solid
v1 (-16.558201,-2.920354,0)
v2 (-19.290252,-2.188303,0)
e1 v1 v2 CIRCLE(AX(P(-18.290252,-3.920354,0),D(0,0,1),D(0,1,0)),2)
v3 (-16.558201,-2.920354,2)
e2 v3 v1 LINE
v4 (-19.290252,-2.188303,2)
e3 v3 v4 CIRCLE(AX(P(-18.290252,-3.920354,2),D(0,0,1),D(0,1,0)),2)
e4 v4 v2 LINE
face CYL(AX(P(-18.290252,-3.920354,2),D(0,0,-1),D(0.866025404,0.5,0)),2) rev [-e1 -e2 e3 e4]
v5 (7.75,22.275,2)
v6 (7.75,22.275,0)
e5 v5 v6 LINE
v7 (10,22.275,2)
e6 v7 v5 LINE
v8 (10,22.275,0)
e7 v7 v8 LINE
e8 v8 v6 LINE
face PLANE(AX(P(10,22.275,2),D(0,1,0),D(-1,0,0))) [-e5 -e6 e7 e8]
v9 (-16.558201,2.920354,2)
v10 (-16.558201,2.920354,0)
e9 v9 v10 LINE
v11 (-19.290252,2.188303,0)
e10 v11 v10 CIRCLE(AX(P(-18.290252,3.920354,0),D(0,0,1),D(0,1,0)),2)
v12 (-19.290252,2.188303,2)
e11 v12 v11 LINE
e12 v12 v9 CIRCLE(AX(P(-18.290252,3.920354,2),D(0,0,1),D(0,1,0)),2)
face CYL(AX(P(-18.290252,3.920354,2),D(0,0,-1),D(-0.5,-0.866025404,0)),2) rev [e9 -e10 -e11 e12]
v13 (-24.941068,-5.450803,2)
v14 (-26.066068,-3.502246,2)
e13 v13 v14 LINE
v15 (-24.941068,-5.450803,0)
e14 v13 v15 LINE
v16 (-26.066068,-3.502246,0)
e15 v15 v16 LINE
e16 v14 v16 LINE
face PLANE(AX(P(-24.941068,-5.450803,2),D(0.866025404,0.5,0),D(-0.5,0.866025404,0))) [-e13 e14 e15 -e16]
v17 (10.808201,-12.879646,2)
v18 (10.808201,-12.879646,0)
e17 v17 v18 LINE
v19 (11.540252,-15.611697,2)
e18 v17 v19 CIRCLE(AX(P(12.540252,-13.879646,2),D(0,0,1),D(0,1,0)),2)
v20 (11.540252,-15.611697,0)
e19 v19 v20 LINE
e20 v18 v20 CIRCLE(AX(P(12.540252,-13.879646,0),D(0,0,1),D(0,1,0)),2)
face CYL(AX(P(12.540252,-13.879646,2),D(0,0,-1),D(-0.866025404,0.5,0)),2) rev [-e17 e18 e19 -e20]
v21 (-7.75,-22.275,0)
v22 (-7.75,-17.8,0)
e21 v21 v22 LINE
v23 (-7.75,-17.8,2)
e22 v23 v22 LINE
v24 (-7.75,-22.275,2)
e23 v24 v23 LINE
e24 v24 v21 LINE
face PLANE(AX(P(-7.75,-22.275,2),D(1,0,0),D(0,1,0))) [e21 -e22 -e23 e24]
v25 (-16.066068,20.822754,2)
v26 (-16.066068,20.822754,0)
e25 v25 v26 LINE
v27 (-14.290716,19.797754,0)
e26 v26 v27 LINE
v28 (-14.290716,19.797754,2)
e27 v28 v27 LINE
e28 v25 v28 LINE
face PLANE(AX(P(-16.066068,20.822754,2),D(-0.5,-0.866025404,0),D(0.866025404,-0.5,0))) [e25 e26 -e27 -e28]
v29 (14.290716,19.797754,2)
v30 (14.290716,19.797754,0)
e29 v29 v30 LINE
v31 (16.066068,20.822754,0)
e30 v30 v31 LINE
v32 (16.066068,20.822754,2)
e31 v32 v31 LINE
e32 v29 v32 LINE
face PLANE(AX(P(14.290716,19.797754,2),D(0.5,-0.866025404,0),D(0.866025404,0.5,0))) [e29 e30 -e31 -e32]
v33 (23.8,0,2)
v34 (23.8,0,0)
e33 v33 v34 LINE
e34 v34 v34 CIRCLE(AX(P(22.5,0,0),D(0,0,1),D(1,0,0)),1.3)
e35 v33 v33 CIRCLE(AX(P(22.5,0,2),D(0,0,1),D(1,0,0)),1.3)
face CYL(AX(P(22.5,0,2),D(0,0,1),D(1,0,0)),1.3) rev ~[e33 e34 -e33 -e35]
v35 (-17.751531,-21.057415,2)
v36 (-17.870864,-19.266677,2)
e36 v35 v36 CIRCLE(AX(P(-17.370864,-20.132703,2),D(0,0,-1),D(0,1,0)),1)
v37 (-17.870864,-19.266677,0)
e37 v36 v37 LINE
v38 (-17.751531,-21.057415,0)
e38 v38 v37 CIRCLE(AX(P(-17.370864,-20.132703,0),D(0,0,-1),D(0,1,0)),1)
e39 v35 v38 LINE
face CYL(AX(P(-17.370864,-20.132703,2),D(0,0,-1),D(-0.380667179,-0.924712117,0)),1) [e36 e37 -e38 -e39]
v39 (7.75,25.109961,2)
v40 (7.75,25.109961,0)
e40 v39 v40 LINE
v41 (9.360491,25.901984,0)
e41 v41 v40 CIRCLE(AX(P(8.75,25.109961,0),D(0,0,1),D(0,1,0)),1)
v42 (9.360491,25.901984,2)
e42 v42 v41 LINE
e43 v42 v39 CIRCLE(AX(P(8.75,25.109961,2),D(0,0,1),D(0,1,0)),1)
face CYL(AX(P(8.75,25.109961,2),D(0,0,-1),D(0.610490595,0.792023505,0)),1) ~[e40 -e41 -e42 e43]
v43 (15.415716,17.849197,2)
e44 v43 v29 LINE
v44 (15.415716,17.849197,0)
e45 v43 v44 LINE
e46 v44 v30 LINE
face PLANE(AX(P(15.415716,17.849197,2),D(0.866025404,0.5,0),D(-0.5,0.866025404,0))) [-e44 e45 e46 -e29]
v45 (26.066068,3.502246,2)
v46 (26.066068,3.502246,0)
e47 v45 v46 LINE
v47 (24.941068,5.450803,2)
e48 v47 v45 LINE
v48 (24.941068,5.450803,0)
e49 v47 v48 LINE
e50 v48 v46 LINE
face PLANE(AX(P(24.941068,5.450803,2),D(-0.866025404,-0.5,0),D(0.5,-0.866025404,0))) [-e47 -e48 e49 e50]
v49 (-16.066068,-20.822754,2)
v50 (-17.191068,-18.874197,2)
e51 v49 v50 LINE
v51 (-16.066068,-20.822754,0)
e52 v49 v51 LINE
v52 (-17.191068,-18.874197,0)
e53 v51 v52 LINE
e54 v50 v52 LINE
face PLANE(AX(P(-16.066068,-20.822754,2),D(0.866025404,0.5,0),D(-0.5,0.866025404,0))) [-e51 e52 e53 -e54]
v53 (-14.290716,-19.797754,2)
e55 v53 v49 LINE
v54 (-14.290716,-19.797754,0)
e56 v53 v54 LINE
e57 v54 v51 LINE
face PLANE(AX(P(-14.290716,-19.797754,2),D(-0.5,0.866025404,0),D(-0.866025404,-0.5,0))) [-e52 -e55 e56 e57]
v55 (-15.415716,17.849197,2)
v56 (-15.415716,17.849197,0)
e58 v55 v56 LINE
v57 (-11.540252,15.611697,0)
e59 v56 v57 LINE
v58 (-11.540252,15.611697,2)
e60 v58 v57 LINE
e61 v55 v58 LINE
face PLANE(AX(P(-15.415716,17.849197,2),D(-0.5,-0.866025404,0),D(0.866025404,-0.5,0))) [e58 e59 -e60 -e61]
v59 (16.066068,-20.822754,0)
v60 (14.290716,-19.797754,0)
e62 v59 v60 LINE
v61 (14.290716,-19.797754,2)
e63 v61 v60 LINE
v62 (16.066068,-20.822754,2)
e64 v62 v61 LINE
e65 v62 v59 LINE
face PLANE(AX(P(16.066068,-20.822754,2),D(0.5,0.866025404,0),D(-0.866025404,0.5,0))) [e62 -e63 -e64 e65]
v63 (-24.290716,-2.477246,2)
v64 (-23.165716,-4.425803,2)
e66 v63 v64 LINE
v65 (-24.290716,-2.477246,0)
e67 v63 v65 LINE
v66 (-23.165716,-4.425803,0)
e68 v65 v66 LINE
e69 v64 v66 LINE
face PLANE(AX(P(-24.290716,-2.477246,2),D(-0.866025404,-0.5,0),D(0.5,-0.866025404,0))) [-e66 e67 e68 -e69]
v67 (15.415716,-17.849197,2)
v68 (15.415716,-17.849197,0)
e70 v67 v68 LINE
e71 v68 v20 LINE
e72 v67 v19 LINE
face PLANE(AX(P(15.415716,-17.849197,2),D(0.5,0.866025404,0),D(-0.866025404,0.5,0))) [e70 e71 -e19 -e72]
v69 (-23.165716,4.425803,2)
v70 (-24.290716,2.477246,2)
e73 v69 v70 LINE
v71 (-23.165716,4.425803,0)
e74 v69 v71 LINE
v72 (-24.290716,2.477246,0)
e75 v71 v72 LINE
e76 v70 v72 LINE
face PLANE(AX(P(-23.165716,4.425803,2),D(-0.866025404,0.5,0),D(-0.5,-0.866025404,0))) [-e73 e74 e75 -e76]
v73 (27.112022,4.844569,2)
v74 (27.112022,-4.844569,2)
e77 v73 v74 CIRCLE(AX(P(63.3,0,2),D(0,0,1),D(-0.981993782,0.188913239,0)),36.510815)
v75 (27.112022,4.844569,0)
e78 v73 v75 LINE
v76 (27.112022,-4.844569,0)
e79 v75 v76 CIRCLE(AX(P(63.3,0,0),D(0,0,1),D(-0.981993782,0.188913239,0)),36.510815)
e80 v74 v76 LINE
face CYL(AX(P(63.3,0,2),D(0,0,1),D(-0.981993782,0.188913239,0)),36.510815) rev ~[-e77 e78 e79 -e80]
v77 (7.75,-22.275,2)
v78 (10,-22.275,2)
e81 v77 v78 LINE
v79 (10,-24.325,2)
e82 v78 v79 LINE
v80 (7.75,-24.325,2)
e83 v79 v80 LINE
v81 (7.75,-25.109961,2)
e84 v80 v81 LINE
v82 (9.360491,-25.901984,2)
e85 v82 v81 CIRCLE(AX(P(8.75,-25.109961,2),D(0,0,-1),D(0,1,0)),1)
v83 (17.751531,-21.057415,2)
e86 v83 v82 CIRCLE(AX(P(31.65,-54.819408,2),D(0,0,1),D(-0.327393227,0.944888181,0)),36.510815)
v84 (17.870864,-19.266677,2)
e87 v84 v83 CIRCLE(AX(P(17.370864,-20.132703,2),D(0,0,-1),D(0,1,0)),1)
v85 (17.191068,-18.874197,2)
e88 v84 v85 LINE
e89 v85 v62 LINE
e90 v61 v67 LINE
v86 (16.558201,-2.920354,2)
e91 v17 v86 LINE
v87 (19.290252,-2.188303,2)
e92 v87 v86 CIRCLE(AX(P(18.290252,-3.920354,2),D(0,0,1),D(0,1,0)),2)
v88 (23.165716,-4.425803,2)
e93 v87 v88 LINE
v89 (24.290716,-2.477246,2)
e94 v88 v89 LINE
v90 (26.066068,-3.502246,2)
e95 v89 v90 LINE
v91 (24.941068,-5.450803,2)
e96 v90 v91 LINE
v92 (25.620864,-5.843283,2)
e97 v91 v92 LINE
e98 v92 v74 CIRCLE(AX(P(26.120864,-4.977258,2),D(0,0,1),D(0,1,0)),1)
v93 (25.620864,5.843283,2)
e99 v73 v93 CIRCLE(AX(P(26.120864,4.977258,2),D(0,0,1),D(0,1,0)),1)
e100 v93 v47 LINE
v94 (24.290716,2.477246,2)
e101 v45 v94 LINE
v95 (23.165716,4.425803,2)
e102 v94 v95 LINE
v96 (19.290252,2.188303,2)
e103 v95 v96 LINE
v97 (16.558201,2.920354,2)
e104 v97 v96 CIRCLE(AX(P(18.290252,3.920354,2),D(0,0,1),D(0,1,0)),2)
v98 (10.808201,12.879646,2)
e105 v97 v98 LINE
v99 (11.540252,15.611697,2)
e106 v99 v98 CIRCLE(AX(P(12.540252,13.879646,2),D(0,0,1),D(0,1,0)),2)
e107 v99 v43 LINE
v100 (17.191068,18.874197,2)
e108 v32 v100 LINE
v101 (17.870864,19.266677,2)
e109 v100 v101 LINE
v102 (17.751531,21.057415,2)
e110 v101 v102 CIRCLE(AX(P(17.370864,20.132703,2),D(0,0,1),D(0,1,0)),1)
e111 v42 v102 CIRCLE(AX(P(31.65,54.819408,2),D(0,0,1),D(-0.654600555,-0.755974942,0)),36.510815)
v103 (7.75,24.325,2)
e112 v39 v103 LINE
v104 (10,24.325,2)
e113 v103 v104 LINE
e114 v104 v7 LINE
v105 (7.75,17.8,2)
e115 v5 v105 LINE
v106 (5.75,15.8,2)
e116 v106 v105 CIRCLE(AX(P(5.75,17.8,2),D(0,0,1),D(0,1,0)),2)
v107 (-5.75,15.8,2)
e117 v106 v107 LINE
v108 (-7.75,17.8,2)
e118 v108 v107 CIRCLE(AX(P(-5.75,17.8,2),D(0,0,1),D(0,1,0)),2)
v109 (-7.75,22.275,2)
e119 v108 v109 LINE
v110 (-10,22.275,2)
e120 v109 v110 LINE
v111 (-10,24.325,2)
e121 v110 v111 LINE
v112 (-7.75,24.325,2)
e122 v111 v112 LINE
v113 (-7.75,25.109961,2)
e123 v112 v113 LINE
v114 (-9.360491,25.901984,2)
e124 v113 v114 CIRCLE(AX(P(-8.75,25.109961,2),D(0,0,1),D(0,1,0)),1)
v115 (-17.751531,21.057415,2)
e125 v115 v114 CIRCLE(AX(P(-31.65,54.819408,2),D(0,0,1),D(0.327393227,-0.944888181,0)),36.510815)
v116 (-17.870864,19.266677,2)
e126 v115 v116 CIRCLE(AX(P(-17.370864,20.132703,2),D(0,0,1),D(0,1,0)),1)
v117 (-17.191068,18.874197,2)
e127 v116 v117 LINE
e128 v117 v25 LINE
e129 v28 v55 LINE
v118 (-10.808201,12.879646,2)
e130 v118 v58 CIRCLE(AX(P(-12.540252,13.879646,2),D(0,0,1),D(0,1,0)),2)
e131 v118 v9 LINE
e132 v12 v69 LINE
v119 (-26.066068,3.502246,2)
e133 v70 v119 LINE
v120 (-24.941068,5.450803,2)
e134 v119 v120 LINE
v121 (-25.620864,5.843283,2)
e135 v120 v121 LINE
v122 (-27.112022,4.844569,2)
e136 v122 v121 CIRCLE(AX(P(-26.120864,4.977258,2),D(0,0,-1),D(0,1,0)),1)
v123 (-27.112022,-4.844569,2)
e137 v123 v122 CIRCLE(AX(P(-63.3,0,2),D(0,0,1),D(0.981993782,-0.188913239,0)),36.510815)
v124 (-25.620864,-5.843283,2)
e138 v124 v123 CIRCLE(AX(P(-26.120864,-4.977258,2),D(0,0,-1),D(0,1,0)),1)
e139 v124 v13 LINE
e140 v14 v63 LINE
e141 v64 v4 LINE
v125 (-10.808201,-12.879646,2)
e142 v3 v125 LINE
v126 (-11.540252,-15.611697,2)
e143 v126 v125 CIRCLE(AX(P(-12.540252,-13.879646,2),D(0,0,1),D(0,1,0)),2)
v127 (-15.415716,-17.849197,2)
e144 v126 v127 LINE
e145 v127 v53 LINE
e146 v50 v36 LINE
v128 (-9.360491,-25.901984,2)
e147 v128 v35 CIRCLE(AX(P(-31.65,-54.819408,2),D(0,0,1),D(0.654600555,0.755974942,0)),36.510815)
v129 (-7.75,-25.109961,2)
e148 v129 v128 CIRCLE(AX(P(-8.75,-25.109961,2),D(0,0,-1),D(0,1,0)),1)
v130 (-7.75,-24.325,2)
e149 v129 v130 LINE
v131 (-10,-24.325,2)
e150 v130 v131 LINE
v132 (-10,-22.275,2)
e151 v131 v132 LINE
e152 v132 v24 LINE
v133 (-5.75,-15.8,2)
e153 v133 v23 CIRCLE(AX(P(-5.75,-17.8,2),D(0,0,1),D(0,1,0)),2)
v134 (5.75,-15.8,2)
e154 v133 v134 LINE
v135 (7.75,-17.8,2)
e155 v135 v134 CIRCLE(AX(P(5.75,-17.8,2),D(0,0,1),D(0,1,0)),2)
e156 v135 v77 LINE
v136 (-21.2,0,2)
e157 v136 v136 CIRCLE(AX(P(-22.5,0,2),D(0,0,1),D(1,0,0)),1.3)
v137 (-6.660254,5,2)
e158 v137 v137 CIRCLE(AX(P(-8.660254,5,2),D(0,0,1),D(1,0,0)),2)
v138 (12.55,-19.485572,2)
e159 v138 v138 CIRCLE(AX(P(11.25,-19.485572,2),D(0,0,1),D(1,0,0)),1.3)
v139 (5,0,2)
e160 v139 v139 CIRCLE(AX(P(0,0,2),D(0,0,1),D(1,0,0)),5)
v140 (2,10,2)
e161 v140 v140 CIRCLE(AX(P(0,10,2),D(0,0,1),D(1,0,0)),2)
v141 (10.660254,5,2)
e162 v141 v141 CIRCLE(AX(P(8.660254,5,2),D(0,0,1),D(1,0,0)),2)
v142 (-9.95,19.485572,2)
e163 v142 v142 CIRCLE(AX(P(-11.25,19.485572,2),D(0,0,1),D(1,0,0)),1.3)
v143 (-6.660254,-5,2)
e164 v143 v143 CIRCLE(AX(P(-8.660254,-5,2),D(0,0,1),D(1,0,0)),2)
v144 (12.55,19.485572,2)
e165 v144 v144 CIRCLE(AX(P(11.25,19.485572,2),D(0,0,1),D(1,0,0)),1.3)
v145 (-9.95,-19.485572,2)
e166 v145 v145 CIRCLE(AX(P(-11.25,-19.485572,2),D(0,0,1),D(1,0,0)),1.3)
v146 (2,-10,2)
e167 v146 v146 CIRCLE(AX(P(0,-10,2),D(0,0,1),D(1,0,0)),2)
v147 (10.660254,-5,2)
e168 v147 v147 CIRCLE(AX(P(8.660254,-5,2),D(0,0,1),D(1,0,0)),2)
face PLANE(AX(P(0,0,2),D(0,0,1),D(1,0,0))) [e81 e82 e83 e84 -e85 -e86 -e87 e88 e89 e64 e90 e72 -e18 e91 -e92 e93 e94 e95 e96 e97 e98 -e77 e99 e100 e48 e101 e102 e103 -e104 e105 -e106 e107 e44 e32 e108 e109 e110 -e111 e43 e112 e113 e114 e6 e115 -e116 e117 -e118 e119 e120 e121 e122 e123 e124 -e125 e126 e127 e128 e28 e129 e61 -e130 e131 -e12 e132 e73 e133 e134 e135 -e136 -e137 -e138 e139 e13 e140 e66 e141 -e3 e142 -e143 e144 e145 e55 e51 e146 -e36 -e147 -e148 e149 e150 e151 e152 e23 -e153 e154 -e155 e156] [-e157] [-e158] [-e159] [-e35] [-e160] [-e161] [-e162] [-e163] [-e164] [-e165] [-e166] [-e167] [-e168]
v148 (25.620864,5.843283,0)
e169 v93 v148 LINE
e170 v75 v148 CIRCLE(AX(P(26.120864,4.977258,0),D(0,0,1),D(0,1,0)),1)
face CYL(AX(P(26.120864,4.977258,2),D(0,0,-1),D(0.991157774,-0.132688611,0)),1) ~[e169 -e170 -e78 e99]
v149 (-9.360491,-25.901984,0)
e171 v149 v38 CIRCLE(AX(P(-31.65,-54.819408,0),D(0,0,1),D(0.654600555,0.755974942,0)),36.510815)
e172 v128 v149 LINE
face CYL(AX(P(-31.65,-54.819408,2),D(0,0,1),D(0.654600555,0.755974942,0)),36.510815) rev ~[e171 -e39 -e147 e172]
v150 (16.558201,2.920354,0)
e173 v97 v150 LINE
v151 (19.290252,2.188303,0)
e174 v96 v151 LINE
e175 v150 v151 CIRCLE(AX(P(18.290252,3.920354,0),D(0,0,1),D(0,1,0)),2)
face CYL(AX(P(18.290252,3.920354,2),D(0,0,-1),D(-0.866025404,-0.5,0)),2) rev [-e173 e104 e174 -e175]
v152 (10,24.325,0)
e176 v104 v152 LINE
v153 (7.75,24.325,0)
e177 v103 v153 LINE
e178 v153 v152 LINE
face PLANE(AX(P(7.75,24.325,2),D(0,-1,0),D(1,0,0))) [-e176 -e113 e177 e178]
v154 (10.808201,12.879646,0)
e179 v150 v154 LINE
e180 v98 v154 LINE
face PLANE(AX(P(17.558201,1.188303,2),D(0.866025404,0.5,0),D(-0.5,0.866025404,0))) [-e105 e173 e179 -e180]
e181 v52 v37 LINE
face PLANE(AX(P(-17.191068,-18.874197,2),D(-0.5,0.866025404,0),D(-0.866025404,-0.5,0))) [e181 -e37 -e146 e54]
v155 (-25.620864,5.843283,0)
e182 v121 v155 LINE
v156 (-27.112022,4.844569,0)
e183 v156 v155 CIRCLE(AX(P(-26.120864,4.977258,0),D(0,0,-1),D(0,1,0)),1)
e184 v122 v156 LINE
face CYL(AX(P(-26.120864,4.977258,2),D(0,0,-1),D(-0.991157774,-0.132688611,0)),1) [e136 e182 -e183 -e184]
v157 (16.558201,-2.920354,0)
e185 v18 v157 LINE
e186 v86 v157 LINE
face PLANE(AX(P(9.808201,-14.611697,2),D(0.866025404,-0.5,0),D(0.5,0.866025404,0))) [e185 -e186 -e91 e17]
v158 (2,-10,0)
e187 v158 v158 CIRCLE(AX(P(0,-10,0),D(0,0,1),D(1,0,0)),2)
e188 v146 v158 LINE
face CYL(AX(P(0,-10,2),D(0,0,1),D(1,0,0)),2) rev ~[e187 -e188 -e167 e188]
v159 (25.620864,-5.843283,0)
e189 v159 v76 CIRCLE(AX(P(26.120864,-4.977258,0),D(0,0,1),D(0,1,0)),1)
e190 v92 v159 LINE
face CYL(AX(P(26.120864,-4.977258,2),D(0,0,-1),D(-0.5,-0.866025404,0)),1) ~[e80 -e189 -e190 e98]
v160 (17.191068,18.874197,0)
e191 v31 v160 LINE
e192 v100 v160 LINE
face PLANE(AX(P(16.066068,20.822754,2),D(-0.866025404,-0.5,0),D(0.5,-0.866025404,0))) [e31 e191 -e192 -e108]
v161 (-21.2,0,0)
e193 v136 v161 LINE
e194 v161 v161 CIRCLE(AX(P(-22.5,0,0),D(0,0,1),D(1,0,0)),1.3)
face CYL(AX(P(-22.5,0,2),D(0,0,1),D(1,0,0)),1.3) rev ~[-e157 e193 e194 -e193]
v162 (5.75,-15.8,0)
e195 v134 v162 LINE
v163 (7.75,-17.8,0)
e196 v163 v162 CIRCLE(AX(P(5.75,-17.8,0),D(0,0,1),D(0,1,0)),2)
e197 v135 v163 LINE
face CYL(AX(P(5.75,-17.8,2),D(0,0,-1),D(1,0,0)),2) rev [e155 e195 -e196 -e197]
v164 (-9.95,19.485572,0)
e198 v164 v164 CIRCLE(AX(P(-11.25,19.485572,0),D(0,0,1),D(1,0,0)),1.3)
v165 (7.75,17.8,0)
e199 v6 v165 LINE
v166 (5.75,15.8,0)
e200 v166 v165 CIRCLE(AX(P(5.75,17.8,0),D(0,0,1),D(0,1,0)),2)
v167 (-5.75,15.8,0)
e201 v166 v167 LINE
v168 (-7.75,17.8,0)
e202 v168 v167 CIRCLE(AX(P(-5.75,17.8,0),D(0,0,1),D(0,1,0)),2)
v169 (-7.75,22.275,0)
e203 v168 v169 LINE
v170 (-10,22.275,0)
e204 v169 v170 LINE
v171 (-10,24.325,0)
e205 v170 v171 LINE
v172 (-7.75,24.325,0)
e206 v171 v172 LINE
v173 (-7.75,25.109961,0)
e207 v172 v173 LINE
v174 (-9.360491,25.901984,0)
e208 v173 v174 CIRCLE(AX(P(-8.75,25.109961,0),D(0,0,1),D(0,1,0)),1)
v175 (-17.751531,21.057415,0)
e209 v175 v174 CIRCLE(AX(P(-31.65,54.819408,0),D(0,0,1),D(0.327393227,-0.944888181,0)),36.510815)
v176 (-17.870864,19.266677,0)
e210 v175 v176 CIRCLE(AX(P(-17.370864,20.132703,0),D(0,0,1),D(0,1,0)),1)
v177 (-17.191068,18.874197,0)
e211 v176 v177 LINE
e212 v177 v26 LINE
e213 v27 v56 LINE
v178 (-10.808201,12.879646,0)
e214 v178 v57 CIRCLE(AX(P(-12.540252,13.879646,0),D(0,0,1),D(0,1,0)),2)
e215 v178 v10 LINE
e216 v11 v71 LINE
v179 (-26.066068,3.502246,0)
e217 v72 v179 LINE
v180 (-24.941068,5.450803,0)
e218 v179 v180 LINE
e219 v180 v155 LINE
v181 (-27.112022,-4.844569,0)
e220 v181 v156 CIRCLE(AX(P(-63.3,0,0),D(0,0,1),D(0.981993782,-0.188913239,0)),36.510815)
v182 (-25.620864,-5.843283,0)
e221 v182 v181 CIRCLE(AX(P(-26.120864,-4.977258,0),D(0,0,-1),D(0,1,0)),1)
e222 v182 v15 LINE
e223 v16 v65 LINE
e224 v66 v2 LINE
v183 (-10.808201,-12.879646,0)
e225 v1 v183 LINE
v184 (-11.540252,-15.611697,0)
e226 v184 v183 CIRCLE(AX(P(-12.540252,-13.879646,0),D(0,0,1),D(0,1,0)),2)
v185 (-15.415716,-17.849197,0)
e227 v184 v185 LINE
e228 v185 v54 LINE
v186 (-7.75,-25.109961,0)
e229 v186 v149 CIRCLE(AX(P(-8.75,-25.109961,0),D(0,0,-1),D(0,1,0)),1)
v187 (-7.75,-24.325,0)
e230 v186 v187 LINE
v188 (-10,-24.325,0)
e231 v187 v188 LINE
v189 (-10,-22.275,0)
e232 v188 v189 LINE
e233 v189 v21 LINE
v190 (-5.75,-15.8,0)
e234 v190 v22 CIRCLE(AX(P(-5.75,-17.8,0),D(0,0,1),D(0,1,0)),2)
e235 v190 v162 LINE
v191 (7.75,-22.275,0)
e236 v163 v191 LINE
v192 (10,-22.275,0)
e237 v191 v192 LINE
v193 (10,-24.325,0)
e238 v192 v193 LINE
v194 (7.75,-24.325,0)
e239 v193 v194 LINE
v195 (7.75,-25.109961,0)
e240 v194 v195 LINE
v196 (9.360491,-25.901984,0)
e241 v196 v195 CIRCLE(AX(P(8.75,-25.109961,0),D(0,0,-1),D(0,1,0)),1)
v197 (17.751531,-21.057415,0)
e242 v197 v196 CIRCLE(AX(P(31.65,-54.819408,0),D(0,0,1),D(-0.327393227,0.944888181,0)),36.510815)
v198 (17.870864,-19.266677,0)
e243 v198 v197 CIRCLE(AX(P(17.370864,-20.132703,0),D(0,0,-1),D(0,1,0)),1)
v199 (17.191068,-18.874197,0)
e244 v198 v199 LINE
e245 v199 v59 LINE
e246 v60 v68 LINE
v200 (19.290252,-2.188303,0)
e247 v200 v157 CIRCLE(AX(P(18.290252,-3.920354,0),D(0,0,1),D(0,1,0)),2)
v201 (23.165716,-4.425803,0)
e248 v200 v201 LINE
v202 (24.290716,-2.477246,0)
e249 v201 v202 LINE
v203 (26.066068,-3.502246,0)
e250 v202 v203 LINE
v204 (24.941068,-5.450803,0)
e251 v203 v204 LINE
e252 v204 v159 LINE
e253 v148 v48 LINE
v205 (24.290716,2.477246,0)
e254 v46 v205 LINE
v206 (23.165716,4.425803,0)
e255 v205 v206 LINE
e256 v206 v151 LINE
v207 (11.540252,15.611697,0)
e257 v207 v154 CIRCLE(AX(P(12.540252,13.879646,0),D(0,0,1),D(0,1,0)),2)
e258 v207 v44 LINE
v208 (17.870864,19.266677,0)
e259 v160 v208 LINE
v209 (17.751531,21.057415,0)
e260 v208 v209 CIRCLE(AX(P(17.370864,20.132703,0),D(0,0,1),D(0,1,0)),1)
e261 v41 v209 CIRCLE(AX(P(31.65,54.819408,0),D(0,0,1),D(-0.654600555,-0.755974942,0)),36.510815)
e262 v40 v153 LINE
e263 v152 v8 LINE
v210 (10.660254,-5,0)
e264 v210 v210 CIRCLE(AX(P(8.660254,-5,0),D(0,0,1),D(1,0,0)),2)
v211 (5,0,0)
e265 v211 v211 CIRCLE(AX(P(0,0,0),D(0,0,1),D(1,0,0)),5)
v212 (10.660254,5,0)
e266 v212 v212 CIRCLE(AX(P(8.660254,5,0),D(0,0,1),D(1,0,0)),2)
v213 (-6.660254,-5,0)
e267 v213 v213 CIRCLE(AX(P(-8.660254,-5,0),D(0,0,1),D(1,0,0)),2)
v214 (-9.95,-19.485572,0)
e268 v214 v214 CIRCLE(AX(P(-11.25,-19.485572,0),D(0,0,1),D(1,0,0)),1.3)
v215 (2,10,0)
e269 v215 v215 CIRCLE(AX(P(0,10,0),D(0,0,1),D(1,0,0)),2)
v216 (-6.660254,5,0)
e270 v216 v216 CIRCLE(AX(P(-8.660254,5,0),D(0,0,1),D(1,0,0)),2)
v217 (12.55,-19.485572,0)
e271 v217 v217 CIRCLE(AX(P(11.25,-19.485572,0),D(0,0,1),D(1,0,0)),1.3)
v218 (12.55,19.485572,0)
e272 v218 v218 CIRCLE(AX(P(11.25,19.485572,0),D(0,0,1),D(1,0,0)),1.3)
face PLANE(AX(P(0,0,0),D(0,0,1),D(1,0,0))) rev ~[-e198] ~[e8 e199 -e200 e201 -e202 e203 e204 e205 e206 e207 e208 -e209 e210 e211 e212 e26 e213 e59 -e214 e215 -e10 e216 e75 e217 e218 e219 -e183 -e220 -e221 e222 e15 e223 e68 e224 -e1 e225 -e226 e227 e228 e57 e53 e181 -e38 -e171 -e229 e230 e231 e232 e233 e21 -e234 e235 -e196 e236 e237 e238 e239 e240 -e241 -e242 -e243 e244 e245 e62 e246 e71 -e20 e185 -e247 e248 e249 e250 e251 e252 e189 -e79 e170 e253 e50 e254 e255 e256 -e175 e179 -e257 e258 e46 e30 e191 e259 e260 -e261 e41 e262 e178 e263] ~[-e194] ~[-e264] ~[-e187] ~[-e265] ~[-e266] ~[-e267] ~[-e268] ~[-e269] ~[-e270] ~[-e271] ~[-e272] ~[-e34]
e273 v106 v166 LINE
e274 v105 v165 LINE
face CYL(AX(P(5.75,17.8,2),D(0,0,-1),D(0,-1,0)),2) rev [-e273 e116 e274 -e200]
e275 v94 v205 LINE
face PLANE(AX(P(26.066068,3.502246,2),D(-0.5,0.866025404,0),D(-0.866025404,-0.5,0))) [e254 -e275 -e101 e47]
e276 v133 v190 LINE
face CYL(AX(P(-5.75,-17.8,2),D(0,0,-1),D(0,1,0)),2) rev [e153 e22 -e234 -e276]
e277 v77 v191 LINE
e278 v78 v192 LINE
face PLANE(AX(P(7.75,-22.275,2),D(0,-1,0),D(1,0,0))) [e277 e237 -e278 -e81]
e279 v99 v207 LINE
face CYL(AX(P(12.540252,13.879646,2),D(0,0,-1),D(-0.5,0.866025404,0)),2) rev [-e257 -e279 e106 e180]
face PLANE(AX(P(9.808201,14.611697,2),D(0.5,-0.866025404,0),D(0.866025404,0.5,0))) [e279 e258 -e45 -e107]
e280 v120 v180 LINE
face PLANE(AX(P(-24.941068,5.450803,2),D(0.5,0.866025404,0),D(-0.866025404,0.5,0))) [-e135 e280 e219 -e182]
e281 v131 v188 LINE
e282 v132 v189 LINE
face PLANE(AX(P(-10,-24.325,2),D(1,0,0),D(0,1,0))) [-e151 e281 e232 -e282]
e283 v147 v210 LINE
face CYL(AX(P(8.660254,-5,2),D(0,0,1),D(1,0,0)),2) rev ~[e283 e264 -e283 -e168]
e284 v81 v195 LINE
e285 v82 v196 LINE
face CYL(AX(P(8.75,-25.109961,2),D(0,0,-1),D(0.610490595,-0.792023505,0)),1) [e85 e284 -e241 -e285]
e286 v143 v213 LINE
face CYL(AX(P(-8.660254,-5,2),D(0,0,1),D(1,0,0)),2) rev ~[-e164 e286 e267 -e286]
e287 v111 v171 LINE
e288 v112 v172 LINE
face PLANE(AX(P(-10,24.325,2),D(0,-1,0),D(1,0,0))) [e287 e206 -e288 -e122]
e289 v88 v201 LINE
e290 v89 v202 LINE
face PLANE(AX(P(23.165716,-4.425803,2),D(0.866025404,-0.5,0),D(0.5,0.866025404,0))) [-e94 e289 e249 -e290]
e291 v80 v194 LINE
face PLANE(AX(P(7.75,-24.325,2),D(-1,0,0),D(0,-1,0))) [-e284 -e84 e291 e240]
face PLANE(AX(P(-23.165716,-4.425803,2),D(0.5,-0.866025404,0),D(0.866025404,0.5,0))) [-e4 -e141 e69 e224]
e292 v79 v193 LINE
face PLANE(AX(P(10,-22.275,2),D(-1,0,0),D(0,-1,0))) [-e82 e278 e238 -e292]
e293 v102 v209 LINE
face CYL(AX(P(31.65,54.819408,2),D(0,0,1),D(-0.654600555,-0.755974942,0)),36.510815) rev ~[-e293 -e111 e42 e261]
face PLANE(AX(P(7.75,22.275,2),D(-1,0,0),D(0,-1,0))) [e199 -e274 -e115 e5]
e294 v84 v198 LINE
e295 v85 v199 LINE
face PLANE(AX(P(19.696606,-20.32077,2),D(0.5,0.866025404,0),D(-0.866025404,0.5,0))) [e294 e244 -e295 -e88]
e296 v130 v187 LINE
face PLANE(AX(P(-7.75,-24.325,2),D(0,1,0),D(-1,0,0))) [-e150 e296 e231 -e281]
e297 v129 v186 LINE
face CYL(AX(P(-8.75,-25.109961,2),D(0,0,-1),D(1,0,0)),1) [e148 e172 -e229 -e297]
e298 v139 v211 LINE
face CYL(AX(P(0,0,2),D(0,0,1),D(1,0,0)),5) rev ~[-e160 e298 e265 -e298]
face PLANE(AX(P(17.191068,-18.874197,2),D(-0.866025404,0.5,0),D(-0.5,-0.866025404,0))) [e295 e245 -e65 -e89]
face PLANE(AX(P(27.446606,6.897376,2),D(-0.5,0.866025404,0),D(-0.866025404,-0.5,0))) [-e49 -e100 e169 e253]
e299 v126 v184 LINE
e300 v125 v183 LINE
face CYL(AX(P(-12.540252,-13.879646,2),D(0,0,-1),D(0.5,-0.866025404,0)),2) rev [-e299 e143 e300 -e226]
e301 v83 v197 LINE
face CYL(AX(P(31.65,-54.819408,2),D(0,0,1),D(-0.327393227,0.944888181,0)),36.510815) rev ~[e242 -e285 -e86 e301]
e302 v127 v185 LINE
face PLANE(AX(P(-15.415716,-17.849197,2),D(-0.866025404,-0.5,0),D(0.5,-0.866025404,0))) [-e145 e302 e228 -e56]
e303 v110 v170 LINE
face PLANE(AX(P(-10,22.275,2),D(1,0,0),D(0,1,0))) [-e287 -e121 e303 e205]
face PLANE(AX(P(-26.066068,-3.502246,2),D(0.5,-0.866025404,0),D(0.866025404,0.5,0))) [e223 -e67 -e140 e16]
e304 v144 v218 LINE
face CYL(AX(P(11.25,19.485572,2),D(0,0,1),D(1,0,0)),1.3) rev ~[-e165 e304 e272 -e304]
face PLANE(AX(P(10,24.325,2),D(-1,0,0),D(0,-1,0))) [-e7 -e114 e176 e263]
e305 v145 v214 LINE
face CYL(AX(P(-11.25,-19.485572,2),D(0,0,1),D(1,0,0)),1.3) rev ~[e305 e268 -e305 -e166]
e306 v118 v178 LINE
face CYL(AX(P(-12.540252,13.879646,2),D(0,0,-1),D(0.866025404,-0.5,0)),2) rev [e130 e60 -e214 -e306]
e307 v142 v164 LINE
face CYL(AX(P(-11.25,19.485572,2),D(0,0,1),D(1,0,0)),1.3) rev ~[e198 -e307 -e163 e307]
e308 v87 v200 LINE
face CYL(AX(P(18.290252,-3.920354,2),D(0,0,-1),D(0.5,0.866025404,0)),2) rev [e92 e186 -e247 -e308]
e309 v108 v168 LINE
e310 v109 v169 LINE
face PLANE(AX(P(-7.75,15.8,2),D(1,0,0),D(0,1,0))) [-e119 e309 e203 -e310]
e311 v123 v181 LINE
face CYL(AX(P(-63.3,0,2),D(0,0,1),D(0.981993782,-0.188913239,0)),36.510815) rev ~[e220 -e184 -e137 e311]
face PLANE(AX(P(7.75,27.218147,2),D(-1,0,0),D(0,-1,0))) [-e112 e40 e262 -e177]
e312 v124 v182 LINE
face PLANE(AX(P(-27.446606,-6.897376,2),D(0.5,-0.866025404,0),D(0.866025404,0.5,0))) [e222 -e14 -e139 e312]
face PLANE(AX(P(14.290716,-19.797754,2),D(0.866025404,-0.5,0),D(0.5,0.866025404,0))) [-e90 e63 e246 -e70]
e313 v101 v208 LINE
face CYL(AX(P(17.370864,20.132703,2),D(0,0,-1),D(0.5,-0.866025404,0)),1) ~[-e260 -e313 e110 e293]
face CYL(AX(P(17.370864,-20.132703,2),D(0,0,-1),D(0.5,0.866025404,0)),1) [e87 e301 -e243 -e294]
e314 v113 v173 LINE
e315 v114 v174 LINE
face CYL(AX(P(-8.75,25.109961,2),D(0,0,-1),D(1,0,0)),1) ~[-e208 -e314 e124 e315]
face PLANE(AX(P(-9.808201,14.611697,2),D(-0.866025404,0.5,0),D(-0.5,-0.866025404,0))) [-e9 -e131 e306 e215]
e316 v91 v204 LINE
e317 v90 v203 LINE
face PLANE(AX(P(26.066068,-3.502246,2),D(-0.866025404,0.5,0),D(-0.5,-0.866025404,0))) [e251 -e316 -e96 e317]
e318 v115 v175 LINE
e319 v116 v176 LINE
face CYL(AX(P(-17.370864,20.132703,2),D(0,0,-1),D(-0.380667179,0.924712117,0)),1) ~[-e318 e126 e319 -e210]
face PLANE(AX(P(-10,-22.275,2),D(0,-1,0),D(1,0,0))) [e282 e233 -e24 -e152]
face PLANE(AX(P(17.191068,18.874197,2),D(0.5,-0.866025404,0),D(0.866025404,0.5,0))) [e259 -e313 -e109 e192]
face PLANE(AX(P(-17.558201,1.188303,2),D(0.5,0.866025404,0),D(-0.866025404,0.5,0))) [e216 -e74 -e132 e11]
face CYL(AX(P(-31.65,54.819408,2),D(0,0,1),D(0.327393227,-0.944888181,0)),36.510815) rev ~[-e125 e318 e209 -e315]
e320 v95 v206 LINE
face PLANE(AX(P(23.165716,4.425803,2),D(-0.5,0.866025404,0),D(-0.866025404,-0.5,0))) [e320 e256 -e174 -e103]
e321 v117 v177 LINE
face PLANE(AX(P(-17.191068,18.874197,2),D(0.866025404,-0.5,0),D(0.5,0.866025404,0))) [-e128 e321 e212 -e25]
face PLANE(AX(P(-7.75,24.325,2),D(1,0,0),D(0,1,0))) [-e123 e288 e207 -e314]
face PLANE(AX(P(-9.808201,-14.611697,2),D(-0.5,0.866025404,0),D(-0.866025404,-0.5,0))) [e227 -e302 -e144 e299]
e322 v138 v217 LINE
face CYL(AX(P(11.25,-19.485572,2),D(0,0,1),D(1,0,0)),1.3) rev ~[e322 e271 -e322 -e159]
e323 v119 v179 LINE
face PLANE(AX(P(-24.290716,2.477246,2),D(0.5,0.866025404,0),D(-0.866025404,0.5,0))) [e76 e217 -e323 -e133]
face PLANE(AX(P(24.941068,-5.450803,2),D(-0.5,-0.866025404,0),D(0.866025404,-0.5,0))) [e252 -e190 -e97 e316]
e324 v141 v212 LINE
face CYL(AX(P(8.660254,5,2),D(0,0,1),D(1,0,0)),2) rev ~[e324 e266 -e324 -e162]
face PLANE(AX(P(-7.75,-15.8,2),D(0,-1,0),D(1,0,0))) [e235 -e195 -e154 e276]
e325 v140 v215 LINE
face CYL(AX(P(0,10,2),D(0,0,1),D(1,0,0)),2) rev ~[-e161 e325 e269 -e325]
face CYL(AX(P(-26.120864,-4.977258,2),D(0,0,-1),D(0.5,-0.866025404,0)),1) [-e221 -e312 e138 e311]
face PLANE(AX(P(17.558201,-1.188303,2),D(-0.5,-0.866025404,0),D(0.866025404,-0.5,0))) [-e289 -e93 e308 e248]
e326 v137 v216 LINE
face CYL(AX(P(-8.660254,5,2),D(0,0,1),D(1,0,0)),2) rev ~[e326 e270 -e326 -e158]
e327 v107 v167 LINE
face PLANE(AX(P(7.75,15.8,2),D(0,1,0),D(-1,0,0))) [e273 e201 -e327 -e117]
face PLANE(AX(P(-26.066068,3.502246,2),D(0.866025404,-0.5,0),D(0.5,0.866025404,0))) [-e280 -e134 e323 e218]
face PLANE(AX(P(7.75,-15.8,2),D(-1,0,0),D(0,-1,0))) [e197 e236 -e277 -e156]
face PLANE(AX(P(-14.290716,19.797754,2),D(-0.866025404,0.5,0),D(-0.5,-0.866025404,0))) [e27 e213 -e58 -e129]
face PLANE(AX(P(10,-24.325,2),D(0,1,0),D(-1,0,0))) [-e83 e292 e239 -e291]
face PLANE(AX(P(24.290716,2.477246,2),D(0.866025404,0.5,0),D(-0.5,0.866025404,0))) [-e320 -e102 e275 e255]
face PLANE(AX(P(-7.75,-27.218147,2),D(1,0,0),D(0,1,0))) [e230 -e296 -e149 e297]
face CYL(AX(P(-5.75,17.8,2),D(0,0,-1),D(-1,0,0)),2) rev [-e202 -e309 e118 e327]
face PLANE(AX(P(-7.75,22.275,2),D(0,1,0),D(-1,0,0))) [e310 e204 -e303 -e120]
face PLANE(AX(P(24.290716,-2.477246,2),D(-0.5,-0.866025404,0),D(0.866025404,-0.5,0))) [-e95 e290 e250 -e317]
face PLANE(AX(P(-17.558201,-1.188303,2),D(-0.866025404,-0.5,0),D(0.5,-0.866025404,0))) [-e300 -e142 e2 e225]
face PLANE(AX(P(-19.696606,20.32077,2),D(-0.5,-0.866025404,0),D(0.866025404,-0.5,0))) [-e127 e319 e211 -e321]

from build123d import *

# Parameters (mm, degrees)
SKETCH_1_R          = 28.3
EXTRUDE_1_DEPTH     = 2
SKETCH_2_R          = 5
SKETCH_2_R_2        = 2
SKETCH_2_R_3        = 1.3
CUT_EXTRUDE_1_DEPTH = 41.072184867
CUT_EXTRUDE_3_DEPTH = 40.315613947
FILLET_2_R          = 2
FILLET_1_R          = 1


with BuildPart() as part:
    # ｽｹｯﾁ1 → ﾎﾞｽ - 押し出し1 (new body)
    with BuildSketch(Plane.XY):
        Circle(SKETCH_1_R)
    extrude(amount=EXTRUDE_1_DEPTH)

    # ｽｹｯﾁ2 → ｶｯﾄ - 押し出し1 (cut, through all)
    with BuildSketch(Plane.XY.offset(2)):
        Circle(SKETCH_2_R)
        with Locations((8.660254038, 5)):
            Circle(SKETCH_2_R_2)
        with Locations((8.660254038, -5)):
            Circle(SKETCH_2_R_2)
        with Locations((0, -10)):
            Circle(SKETCH_2_R_2)
        with Locations((-8.660254038, -5)):
            Circle(SKETCH_2_R_2)
        with Locations((-8.660254038, 5)):
            Circle(SKETCH_2_R_2)
        with Locations((0, 10)):
            Circle(SKETCH_2_R_2)
        with Locations((11.25, 19.485571585)):
            Circle(SKETCH_2_R_3)
        with Locations((22.5, 0)):
            Circle(SKETCH_2_R_3)
        with Locations((11.25, -19.485571585)):
            Circle(SKETCH_2_R_3)
        with Locations((-11.25, -19.485571585)):
            Circle(SKETCH_2_R_3)
        with Locations((-22.5, 0)):
            Circle(SKETCH_2_R_3)
        with Locations((-11.25, 19.485571585)):
            Circle(SKETCH_2_R_3)
        with BuildLine():
            Line((7.75, 24.325), (10, 24.325))
            Line((10, 24.325), (10, 22.275))
            Line((10, 22.275), (7.75, 22.275))
            Line((7.75, 22.275), (7.75, 15.8))
            Line((7.75, 15.8), (-7.75, 15.8))
            Line((-7.75, 15.8), (-7.75, 22.275))
            Line((-7.75, 22.275), (-10, 22.275))
            Line((-10, 22.275), (-10, 24.325))
            Line((-10, 24.325), (-7.75, 24.325))
            Line((-7.75, 24.325), (-7.75, 27.21814652))
            ThreePointArc((-7.75, 27.21814652), (0, 28.3), (7.75, 27.21814652))
            Line((7.75, 27.21814652), (7.75, 24.325))
        make_face()
        with BuildLine():
            Line((24.941067947, 5.450803121), (26.066067947, 3.502245962))
            Line((26.066067947, 3.502245962), (24.290715869, 2.477245962))
            Line((24.290715869, 2.477245962), (23.165715869, 4.425803121))
            Line((23.165715869, 4.425803121), (17.55820138, 1.188303121))
            Line((17.55820138, 1.188303121), (9.80820138, 14.611696879))
            Line((9.80820138, 14.611696879), (15.415715869, 17.849196879))
            Line((15.415715869, 17.849196879), (14.290715869, 19.797754038))
            Line((14.290715869, 19.797754038), (16.066067947, 20.822754038))
            Line((16.066067947, 20.822754038), (17.191067947, 18.874196879))
            Line((17.191067947, 18.874196879), (19.69660633, 20.320770139))
            ThreePointArc((19.69660633, 20.320770139), (24.508518927, 14.15), (27.44660633, 6.897376381))
            Line((27.44660633, 6.897376381), (24.941067947, 5.450803121))
        make_face()
        with BuildLine():
            Line((17.191067947, -18.874196879), (16.066067947, -20.822754038))
            Line((16.066067947, -20.822754038), (14.290715869, -19.797754038))
            Line((14.290715869, -19.797754038), (15.415715869, -17.849196879))
            Line((15.415715869, -17.849196879), (9.80820138, -14.611696879))
            Line((9.80820138, -14.611696879), (17.55820138, -1.188303121))
            Line((17.55820138, -1.188303121), (23.165715869, -4.425803121))
            Line((23.165715869, -4.425803121), (24.290715869, -2.477245962))
            Line((24.290715869, -2.477245962), (26.066067947, -3.502245962))
            Line((26.066067947, -3.502245962), (24.941067947, -5.450803121))
            Line((24.941067947, -5.450803121), (27.44660633, -6.897376381))
            ThreePointArc((27.44660633, -6.897376381), (24.508518927, -14.15), (19.69660633, -20.320770139))
            Line((19.69660633, -20.320770139), (17.191067947, -18.874196879))
        make_face()
        with BuildLine():
            Line((-7.75, -24.325), (-10, -24.325))
            Line((-10, -24.325), (-10, -22.275))
            Line((-10, -22.275), (-7.75, -22.275))
            Line((-7.75, -22.275), (-7.75, -15.8))
            Line((-7.75, -15.8), (7.75, -15.8))
            Line((7.75, -15.8), (7.75, -22.275))
            Line((7.75, -22.275), (10, -22.275))
            Line((10, -22.275), (10, -24.325))
            Line((10, -24.325), (7.75, -24.325))
            Line((7.75, -24.325), (7.75, -27.21814652))
            ThreePointArc((7.75, -27.21814652), (0, -28.3), (-7.75, -27.21814652))
            Line((-7.75, -27.21814652), (-7.75, -24.325))
        make_face()
        with BuildLine():
            Line((-24.941067947, -5.450803121), (-26.066067947, -3.502245962))
            Line((-26.066067947, -3.502245962), (-24.290715869, -2.477245962))
            Line((-24.290715869, -2.477245962), (-23.165715869, -4.425803121))
            Line((-23.165715869, -4.425803121), (-17.55820138, -1.188303121))
            Line((-17.55820138, -1.188303121), (-9.80820138, -14.611696879))
            Line((-9.80820138, -14.611696879), (-15.415715869, -17.849196879))
            Line((-15.415715869, -17.849196879), (-14.290715869, -19.797754038))
            Line((-14.290715869, -19.797754038), (-16.066067947, -20.822754038))
            Line((-16.066067947, -20.822754038), (-17.191067947, -18.874196879))
            Line((-17.191067947, -18.874196879), (-19.69660633, -20.320770139))
            ThreePointArc((-19.69660633, -20.320770139), (-24.508518927, -14.15), (-27.44660633, -6.897376381))
            Line((-27.44660633, -6.897376381), (-24.941067947, -5.450803121))
        make_face()
        with BuildLine():
            Line((-17.191067947, 18.874196879), (-16.066067947, 20.822754038))
            Line((-16.066067947, 20.822754038), (-14.290715869, 19.797754038))
            Line((-14.290715869, 19.797754038), (-15.415715869, 17.849196879))
            Line((-15.415715869, 17.849196879), (-9.80820138, 14.611696879))
            Line((-9.80820138, 14.611696879), (-17.55820138, 1.188303121))
            Line((-17.55820138, 1.188303121), (-23.165715869, 4.425803121))
            Line((-23.165715869, 4.425803121), (-24.290715869, 2.477245962))
            Line((-24.290715869, 2.477245962), (-26.066067947, 3.502245962))
            Line((-26.066067947, 3.502245962), (-24.941067947, 5.450803121))
            Line((-24.941067947, 5.450803121), (-27.44660633, 6.897376381))
            ThreePointArc((-27.44660633, 6.897376381), (-24.508518927, 14.15), (-19.69660633, 20.320770139))
            Line((-19.69660633, 20.320770139), (-17.191067947, 18.874196879))
        make_face()
    extrude(amount=-CUT_EXTRUDE_1_DEPTH, mode=Mode.SUBTRACT)

    # ｽｹｯﾁ3 → ｶｯﾄ - 押し出し3 (cut, through all)
    with BuildSketch(Plane.XY.offset(2)):
        with BuildLine():
            ThreePointArc((7.75, 27.21814652), (13.394592318, 23.200114441), (19.69660633, 20.320770139))
            ThreePointArc((19.69660633, 20.320770139), (14.15, 24.508518927), (7.75, 27.21814652))
        make_face()
        with BuildLine():
            ThreePointArc((27.44660633, 6.897376381), (26.789184636, 0), (27.44660633, -6.897376381))
            ThreePointArc((27.44660633, -6.897376381), (28.3, 0), (27.44660633, 6.897376381))
        make_face()
        with BuildLine():
            ThreePointArc((19.69660633, -20.320770139), (13.394592318, -23.200114441), (7.75, -27.21814652))
            ThreePointArc((7.75, -27.21814652), (14.15, -24.508518927), (19.69660633, -20.320770139))
        make_face()
        with BuildLine():
            ThreePointArc((-7.75, -27.21814652), (-13.394592318, -23.200114441), (-19.69660633, -20.320770139))
            ThreePointArc((-19.69660633, -20.320770139), (-14.15, -24.508518927), (-7.75, -27.21814652))
        make_face()
        with BuildLine():
            ThreePointArc((-27.44660633, -6.897376381), (-26.789184636, 0), (-27.44660633, 6.897376381))
            ThreePointArc((-27.44660633, 6.897376381), (-28.3, 0), (-27.44660633, -6.897376381))
        make_face()
        with BuildLine():
            ThreePointArc((-19.69660633, 20.320770139), (-13.394592318, 23.200114441), (-7.75, 27.21814652))
            ThreePointArc((-7.75, 27.21814652), (-14.15, 24.508518927), (-19.69660633, 20.320770139))
        make_face()
    extrude(amount=-CUT_EXTRUDE_3_DEPTH, mode=Mode.SUBTRACT)

    # ﾌｨﾚｯﾄ2
    fillet_2_edges = [part.edges().sort_by_distance(p)[0] for p in [
        (9.80820138, -14.611696879, 1),
        (17.55820138, -1.188303121, 1),
        (17.55820138, 1.188303121, 1),
        (9.80820138, 14.611696879, 1),
        (7.75, 15.8, 1),
        (-7.75, 15.8, 1),
        (-9.80820138, 14.611696879, 1),
        (-17.55820138, 1.188303121, 1),
        (-7.75, -15.8, 1),
        (7.75, -15.8, 1),
        (-17.55820138, -1.188303121, 1),
        (-9.80820138, -14.611696879, 1),
    ]]
    fillet(fillet_2_edges, radius=FILLET_2_R)

    # ﾌｨﾚｯﾄ1
    fillet_1_edges = [part.edges().sort_by_distance(p)[0] for p in [
        (27.44660633, -6.897376381, 1),
        (19.69660633, -20.320770139, 1),
        (19.69660633, 20.320770139, 1),
        (27.44660633, 6.897376381, 1),
        (-7.75, 27.21814652, 1),
        (7.75, 27.21814652, 1),
        (-27.44660633, 6.897376381, 1),
        (-19.69660633, 20.320770139, 1),
        (7.75, -27.21814652, 1),
        (-7.75, -27.21814652, 1),
        (-19.69660633, -20.320770139, 1),
        (-27.44660633, -6.897376381, 1),
    ]]
    fillet(fillet_1_edges, radius=FILLET_1_R)


solid = part.part
